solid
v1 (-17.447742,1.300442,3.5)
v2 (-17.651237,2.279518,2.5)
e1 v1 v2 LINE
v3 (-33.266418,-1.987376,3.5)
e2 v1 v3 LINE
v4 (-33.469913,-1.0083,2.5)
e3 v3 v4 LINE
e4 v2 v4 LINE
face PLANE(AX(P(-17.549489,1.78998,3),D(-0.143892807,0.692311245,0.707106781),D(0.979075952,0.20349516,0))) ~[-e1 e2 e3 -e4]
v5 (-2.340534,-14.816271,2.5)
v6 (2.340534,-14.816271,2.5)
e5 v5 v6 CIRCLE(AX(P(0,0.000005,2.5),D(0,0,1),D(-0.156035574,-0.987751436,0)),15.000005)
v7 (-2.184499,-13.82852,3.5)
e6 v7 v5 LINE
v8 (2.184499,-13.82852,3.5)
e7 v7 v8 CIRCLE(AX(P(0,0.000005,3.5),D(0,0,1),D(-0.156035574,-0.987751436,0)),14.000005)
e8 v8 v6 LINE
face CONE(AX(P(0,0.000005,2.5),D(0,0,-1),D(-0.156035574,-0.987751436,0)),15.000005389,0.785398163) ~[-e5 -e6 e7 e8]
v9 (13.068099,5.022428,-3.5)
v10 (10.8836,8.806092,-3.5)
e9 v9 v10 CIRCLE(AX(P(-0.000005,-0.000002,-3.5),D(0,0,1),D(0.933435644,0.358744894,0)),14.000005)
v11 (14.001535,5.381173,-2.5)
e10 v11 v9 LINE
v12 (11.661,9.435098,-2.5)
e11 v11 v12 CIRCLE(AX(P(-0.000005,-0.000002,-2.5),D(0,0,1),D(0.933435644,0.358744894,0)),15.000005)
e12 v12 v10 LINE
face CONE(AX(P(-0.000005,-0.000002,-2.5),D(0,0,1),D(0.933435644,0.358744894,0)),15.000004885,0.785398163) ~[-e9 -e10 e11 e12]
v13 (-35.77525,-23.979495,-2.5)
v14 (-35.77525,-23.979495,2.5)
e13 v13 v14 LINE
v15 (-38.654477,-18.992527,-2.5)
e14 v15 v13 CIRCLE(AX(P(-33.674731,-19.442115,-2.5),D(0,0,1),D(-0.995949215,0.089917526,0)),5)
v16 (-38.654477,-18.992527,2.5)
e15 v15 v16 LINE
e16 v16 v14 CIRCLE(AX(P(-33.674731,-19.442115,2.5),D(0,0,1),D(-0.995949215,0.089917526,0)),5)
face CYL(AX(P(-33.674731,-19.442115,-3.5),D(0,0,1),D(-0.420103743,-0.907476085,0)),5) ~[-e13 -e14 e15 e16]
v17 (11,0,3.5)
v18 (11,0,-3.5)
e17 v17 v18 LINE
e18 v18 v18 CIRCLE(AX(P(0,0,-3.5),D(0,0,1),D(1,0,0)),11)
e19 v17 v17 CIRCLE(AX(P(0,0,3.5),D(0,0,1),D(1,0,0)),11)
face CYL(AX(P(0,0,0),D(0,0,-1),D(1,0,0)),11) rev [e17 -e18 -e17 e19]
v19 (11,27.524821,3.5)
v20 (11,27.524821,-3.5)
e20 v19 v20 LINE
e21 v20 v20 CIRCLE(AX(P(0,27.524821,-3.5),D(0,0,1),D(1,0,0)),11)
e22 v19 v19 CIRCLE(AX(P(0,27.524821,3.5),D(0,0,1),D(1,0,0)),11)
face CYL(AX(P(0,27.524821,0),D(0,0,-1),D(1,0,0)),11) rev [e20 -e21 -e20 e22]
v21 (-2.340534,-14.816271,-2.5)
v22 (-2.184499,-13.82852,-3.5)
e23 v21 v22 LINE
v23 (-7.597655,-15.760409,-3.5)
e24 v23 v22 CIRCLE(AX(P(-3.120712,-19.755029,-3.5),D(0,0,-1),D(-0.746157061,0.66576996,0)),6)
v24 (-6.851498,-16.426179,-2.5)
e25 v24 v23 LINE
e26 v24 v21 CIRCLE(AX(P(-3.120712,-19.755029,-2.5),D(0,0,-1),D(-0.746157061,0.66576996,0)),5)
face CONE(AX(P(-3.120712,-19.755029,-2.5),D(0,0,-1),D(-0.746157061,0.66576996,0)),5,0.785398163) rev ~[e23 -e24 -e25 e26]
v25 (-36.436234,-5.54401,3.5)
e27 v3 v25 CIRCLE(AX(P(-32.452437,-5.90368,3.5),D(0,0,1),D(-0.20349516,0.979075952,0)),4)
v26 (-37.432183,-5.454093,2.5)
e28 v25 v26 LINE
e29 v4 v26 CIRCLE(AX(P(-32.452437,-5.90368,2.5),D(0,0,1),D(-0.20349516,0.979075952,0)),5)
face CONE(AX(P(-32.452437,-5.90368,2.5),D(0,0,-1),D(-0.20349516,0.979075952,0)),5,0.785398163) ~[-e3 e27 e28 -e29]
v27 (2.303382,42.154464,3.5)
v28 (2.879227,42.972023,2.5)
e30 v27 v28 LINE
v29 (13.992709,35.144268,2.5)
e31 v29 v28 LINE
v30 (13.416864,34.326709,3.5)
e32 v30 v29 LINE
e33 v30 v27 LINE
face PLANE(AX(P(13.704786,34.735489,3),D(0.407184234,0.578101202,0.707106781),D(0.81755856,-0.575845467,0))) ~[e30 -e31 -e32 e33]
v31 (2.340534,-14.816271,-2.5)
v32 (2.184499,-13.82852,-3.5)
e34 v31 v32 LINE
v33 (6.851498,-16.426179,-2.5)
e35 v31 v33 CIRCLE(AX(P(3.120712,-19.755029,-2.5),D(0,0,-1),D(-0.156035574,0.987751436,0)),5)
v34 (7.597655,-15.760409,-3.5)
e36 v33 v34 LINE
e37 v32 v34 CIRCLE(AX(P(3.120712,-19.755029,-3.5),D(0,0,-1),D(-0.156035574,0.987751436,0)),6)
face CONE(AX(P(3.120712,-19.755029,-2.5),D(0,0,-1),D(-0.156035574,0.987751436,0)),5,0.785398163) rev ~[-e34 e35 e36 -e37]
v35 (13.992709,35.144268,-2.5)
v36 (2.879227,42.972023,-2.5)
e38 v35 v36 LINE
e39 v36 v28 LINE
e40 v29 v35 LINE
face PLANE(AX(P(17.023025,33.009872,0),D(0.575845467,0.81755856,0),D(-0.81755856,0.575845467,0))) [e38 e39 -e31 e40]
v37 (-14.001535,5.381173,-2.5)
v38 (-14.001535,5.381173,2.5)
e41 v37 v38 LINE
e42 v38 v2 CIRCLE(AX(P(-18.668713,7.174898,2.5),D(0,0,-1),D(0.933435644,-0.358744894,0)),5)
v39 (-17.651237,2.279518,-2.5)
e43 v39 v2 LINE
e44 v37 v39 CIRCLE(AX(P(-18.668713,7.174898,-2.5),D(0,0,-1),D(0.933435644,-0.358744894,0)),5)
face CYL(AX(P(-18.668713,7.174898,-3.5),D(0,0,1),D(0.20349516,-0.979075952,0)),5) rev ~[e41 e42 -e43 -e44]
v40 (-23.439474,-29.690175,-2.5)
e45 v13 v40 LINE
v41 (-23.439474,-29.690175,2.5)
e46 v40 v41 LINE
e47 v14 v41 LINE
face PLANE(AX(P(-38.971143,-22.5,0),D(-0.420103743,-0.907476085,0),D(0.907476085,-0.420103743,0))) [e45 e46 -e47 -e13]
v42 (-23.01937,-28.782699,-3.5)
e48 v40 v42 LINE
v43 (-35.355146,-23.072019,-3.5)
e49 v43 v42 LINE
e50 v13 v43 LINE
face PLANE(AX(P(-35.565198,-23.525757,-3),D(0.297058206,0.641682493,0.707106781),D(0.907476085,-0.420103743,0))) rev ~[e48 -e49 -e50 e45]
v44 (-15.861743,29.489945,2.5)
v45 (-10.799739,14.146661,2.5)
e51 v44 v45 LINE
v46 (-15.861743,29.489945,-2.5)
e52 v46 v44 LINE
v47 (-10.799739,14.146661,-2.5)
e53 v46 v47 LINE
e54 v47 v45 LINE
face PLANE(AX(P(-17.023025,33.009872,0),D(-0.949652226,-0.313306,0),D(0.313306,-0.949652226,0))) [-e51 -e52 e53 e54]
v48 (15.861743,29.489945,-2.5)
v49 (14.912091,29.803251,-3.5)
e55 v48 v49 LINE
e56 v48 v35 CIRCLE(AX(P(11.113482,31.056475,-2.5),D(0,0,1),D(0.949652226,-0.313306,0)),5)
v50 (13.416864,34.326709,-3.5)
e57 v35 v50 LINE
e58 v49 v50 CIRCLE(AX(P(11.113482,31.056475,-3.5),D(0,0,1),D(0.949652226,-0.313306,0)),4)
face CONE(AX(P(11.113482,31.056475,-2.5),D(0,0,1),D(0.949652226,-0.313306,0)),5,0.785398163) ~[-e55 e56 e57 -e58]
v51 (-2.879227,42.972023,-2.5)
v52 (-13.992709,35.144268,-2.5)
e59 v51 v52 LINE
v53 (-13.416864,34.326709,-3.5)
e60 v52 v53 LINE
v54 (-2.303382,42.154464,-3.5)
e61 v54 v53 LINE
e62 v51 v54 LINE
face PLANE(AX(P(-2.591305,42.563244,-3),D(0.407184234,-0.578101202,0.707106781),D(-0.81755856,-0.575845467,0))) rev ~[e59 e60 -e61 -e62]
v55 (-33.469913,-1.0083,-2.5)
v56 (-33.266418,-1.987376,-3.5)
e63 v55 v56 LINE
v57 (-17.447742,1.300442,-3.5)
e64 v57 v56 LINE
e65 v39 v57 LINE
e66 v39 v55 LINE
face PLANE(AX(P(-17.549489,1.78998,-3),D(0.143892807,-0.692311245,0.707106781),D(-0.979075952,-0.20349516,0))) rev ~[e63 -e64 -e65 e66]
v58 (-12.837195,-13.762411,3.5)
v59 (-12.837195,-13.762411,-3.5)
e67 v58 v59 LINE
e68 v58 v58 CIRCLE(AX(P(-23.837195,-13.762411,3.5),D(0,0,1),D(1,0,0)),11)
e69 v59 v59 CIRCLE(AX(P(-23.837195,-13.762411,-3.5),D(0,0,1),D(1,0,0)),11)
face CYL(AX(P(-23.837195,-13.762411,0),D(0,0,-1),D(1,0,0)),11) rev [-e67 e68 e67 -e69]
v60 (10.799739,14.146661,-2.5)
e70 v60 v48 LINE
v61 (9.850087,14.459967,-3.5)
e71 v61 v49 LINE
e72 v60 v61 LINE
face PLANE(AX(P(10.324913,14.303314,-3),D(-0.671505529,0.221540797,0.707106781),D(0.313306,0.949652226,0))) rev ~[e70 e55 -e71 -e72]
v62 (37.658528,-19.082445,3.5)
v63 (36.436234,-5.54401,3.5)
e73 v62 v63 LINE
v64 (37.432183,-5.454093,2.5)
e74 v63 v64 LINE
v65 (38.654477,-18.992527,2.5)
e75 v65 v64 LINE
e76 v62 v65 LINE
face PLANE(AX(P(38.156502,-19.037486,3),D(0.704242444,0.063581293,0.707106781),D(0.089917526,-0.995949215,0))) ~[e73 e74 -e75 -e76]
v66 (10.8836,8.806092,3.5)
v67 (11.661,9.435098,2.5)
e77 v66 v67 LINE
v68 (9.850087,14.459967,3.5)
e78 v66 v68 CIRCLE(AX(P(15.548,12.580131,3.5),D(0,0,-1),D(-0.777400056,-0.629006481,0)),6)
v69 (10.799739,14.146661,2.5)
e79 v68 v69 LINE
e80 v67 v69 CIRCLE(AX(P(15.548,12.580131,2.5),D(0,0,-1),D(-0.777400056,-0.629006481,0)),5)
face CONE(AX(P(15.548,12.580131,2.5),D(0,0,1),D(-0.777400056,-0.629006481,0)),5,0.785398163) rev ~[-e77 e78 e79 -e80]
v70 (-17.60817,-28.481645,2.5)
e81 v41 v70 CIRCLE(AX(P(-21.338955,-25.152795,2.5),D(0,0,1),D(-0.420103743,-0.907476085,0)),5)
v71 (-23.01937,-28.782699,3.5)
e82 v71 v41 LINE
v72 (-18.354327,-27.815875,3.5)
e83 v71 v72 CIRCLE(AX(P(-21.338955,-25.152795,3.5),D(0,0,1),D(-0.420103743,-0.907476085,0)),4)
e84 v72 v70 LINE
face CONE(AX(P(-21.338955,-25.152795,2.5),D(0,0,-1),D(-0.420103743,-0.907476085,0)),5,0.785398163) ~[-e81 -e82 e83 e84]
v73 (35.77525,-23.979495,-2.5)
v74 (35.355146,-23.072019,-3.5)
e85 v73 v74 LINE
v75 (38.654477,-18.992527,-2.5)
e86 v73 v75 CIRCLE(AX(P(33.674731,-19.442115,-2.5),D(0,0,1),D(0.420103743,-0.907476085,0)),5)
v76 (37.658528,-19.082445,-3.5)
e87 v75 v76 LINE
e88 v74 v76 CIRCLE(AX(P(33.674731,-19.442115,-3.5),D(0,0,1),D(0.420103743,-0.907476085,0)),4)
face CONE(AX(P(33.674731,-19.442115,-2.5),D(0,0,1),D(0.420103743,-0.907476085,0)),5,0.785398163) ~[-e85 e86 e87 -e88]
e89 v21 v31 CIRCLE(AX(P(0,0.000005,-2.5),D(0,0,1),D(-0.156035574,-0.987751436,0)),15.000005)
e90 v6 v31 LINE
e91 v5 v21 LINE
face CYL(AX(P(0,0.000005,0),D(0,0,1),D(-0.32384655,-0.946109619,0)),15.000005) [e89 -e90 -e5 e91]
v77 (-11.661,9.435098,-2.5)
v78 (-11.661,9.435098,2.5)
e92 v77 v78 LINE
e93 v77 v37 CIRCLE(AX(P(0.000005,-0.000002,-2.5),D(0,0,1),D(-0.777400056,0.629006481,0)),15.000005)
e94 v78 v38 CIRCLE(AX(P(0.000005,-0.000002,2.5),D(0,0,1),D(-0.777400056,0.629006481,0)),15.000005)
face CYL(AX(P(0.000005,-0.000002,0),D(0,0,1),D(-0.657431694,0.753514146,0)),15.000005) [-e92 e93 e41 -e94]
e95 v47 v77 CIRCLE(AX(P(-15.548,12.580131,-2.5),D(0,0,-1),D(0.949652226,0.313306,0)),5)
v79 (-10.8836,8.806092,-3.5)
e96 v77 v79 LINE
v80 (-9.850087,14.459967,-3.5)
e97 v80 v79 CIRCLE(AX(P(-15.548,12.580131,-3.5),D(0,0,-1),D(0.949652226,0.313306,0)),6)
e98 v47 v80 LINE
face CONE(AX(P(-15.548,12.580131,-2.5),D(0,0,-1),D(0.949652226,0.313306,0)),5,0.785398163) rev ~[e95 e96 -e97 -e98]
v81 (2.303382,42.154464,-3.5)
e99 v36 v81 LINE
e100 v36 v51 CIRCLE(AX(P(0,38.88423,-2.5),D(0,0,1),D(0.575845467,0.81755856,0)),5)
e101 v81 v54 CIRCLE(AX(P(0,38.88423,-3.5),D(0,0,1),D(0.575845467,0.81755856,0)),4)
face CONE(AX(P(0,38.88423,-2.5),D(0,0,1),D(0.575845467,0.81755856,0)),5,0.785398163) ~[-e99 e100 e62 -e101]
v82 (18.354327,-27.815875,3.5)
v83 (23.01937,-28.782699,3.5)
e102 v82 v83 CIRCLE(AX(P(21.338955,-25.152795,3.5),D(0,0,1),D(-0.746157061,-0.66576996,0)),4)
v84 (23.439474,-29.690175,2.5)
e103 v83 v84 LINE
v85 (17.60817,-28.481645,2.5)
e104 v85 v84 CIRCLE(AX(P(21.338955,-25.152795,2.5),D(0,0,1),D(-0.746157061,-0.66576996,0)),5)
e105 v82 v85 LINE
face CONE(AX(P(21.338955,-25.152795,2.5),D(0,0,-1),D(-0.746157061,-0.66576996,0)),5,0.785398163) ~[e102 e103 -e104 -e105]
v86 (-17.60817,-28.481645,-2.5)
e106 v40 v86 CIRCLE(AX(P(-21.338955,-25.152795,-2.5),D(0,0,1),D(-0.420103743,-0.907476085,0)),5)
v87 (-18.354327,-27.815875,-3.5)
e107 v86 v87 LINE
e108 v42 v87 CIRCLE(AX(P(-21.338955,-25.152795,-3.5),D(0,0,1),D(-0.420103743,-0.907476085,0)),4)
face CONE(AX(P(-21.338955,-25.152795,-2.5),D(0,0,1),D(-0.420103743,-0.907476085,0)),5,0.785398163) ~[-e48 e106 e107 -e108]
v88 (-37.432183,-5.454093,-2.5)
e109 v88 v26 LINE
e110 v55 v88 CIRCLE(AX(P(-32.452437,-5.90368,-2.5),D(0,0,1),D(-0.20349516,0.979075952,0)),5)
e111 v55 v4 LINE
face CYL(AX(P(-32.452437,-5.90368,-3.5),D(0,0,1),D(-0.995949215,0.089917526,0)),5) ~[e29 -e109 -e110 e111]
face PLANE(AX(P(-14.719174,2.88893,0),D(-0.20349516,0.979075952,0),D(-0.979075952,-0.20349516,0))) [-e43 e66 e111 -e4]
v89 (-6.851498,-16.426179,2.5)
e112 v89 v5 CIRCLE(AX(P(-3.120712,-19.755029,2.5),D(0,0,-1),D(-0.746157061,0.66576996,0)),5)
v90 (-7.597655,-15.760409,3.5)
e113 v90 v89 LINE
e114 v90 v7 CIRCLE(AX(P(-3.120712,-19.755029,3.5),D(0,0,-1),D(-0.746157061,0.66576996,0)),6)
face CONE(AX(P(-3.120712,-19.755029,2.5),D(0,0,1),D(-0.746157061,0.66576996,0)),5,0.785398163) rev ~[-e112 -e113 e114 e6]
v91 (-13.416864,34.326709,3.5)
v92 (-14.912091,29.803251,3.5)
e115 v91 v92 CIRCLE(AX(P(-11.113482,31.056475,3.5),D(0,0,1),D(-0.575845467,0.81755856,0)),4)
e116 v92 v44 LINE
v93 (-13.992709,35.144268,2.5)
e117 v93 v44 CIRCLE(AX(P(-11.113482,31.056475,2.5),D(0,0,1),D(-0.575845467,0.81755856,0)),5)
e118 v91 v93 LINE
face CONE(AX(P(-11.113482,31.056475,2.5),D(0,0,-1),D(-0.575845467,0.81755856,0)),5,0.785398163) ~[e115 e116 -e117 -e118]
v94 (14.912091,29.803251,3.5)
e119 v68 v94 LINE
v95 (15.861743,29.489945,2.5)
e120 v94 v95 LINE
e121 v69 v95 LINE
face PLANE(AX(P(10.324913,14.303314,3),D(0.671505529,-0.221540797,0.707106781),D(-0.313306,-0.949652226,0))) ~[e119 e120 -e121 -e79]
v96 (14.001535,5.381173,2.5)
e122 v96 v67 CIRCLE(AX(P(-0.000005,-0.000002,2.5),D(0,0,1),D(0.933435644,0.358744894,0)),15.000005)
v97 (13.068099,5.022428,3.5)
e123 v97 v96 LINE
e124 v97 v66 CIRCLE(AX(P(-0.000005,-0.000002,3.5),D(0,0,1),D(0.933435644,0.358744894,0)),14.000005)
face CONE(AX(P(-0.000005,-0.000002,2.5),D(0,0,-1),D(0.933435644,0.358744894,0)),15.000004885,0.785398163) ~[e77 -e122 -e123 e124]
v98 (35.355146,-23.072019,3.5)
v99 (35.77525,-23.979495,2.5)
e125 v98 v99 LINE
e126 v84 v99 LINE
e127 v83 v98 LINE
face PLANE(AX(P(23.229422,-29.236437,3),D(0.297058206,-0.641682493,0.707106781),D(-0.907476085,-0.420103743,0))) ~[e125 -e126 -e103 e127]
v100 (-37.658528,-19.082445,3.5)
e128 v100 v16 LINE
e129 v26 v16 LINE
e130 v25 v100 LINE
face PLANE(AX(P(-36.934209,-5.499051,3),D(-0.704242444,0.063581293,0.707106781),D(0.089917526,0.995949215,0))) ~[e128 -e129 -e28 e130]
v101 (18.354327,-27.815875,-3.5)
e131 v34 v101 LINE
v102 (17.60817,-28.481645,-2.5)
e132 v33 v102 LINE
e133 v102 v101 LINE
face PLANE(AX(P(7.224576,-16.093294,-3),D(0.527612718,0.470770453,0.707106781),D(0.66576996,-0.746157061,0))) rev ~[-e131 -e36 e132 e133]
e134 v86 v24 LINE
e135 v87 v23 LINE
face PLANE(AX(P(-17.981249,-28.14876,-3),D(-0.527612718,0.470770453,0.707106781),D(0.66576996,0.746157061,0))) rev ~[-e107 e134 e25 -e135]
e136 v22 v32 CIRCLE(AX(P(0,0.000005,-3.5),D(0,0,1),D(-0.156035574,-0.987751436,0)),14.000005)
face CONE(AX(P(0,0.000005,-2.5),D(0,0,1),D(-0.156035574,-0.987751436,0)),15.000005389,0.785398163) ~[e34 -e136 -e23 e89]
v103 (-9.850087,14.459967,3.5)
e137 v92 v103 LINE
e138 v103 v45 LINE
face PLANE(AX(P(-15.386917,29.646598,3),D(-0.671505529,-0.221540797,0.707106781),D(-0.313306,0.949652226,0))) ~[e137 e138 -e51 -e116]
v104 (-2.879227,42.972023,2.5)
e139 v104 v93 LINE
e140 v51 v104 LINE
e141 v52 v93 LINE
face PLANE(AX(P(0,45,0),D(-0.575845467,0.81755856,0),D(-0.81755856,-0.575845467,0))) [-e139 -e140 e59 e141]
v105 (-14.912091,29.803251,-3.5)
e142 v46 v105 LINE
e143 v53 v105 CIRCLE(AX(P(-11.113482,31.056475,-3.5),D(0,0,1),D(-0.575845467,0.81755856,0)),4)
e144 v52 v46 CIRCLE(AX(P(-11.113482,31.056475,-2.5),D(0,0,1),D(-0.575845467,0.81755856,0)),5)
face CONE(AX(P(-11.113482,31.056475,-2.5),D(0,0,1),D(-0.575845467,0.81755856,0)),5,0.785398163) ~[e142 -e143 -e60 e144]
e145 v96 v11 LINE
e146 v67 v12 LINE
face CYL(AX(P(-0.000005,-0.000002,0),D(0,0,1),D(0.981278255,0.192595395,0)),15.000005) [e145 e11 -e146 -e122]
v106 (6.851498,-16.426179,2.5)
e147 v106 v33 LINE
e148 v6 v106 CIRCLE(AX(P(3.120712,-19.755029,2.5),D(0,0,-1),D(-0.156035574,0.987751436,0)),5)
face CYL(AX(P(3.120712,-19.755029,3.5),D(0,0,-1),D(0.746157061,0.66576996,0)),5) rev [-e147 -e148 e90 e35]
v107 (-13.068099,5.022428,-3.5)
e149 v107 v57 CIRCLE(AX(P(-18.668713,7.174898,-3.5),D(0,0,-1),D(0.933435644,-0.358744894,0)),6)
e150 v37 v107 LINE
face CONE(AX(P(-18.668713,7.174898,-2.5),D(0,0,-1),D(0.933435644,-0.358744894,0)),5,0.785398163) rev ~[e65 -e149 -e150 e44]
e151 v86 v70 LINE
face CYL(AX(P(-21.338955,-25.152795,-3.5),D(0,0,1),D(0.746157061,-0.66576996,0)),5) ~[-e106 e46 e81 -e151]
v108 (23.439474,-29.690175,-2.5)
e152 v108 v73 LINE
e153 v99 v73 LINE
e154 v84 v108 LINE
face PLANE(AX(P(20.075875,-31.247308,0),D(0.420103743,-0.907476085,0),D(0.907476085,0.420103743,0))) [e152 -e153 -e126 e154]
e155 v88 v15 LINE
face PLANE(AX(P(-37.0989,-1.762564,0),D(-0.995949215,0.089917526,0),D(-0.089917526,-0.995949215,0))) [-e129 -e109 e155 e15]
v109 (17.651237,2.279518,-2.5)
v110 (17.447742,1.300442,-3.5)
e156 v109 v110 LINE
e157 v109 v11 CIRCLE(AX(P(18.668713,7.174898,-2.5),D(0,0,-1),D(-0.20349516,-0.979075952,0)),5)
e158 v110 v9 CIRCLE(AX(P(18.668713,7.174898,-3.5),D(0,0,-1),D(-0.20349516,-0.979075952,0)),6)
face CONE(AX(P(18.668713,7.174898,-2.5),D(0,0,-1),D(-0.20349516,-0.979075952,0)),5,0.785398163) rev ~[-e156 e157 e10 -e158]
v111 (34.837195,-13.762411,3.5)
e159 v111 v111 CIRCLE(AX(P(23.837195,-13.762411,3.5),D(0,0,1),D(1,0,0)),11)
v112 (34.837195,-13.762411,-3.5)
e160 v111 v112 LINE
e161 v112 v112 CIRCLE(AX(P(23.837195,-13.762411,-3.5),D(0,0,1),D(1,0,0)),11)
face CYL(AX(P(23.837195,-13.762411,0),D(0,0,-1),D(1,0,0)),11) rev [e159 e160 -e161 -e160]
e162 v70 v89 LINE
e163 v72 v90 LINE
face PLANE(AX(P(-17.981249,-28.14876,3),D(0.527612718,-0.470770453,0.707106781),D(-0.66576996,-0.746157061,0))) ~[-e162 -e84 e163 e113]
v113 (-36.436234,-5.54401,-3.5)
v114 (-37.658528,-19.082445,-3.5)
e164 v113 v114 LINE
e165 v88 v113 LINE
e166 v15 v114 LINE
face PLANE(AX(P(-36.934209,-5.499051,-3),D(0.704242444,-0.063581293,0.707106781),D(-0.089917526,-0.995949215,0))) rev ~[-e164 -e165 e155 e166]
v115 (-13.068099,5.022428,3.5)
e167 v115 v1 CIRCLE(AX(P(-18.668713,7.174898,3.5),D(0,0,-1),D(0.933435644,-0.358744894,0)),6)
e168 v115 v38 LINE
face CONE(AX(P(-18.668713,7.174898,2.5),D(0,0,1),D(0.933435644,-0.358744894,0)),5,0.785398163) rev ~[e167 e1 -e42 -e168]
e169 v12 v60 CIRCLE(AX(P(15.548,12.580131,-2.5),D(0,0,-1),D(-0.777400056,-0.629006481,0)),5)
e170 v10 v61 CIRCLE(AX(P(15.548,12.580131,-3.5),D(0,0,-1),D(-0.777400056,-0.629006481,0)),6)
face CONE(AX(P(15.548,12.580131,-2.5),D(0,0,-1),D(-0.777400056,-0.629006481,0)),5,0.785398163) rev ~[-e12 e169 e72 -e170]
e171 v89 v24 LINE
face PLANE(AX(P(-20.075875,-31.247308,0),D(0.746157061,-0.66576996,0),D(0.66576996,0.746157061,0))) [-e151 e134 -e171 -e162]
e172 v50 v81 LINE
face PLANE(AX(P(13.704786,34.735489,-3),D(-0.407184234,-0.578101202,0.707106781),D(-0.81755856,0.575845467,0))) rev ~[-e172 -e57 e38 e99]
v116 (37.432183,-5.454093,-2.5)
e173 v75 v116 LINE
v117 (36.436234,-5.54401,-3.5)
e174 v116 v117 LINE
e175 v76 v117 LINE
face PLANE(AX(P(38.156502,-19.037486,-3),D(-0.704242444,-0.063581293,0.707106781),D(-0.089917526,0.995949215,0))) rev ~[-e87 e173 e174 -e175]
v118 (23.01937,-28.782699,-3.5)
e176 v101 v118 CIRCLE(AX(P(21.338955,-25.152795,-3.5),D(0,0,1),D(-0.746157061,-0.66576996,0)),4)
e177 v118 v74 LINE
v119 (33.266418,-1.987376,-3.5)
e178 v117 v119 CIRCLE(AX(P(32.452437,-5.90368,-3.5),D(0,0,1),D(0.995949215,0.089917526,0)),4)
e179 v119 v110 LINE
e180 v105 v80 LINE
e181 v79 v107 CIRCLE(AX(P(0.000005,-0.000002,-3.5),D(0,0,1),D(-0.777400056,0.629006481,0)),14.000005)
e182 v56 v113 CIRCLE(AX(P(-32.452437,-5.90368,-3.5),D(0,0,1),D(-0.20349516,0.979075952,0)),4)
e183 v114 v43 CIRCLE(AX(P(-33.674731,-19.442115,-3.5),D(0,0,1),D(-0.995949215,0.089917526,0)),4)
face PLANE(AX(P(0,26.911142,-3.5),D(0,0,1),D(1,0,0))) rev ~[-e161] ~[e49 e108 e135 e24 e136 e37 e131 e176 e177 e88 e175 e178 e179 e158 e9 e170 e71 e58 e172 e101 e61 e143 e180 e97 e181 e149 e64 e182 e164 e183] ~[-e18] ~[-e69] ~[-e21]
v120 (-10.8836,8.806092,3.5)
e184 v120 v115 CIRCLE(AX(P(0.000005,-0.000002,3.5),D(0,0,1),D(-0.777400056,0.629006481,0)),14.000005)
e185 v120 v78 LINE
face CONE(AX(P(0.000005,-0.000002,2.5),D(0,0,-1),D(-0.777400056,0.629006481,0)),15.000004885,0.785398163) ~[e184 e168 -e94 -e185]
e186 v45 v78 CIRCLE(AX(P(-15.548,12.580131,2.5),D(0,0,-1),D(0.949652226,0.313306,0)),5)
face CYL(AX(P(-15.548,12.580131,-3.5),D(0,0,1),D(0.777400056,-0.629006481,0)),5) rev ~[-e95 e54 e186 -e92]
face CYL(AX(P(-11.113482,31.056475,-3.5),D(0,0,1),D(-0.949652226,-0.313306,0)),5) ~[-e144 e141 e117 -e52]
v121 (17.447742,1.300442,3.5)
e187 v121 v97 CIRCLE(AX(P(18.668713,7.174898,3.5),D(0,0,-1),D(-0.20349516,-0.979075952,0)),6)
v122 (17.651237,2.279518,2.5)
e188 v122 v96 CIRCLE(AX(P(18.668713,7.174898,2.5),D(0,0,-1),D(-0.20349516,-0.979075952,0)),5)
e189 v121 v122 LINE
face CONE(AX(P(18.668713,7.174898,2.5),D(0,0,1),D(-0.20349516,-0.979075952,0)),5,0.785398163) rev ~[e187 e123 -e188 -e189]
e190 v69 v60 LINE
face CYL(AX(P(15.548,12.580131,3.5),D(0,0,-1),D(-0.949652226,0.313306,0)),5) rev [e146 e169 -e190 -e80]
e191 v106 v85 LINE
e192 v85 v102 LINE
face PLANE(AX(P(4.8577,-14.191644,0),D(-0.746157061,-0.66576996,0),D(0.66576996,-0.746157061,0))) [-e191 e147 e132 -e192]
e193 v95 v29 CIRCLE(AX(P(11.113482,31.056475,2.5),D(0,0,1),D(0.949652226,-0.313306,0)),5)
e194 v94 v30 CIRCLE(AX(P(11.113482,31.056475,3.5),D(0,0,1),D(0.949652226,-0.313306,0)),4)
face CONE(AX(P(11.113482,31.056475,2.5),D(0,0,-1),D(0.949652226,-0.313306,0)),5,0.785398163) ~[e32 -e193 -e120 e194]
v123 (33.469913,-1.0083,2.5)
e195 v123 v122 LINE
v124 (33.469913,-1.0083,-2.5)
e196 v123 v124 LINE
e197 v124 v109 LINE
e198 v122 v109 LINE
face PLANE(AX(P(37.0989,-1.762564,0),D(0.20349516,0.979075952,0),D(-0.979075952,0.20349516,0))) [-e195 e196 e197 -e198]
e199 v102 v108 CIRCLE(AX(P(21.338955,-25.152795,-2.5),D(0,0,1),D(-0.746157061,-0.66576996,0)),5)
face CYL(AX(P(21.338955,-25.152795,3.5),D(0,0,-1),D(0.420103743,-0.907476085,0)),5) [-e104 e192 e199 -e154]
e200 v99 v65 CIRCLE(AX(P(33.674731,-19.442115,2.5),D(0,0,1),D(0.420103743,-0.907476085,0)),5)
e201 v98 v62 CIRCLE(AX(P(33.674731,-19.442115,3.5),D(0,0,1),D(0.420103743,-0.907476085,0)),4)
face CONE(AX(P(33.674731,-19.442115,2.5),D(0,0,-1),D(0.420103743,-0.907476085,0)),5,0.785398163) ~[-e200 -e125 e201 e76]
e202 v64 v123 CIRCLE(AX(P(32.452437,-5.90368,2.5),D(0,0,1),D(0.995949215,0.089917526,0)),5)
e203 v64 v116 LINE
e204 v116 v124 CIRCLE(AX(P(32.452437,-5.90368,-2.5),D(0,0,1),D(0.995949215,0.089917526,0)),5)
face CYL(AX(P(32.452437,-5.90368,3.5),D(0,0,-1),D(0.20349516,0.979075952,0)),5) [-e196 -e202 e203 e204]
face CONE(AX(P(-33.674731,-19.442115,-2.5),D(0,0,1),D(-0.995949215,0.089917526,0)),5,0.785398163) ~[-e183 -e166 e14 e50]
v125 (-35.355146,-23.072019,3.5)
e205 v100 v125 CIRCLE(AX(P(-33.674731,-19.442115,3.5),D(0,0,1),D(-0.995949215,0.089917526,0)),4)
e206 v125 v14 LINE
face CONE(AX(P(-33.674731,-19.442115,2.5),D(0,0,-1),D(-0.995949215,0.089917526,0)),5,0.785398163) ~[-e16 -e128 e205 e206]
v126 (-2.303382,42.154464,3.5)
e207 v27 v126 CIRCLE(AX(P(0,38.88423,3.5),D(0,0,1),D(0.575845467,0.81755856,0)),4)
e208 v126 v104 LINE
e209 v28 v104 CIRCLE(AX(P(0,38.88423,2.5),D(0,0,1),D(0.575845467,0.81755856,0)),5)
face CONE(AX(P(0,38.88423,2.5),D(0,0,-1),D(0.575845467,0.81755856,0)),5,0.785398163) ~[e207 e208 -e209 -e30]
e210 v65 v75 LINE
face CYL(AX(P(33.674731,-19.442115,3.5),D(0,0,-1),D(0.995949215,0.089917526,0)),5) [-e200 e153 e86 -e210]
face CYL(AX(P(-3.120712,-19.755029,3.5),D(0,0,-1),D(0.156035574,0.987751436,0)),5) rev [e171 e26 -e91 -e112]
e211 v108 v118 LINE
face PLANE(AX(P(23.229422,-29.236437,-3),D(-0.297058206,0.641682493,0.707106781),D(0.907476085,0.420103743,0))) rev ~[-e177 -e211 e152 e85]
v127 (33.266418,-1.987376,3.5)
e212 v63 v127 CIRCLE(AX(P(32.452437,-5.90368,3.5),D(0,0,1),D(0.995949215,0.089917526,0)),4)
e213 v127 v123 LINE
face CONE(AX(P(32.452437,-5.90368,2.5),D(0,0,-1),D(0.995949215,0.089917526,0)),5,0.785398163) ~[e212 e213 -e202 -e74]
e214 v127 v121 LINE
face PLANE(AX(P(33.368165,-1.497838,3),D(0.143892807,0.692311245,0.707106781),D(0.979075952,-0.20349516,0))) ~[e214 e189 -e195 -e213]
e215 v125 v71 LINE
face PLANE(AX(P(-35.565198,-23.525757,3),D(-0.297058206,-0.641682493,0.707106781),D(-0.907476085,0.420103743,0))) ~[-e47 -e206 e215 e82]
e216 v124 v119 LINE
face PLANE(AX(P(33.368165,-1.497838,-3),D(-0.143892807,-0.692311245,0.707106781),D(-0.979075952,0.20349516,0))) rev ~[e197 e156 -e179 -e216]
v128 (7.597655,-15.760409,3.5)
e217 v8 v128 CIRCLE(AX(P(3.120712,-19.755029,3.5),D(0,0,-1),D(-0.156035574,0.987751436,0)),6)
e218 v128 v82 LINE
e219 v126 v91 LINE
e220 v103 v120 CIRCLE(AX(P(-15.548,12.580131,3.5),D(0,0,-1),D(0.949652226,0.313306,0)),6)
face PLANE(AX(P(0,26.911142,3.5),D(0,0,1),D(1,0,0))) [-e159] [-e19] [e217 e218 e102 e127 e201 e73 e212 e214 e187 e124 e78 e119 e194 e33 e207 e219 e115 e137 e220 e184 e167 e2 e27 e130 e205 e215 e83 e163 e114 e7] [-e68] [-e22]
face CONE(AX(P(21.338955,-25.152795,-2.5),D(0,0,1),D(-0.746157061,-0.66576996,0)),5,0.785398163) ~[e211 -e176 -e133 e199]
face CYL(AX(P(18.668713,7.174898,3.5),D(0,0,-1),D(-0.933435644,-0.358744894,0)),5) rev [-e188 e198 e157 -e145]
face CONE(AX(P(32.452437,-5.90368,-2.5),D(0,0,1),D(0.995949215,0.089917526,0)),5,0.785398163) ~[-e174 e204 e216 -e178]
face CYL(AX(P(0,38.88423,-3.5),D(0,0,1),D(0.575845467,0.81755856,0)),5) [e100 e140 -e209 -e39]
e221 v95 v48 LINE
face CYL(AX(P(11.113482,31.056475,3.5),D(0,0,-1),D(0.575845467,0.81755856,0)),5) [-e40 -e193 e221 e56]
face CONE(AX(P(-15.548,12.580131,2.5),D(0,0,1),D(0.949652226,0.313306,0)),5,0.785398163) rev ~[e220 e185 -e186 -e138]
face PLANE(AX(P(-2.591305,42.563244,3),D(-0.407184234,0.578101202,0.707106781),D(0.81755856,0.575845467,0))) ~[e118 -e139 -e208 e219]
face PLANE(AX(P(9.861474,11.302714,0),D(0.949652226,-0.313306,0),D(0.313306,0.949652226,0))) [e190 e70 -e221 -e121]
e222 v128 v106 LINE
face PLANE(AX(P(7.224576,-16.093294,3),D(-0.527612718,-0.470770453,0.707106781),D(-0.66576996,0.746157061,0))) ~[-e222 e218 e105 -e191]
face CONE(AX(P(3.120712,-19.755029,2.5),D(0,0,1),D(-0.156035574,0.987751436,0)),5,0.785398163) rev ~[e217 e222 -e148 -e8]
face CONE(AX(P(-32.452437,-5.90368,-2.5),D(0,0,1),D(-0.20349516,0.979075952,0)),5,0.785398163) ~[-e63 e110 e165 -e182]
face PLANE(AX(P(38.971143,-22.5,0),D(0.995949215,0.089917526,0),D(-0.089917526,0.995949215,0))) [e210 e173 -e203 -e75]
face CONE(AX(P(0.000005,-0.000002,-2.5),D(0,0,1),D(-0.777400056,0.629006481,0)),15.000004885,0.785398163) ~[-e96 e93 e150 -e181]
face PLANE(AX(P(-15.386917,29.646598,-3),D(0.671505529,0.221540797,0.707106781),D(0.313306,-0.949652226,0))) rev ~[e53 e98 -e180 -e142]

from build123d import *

# Parameters (mm, degrees)
F0_R     = 11
F1_DEPTH = 3.5
F2_R     = 5
F3_SIZE  = 1


with BuildPart() as f1:
    # F0 (on Top) → F1 (new body, symmetric)
    with BuildSketch(Plane.XY):
        with BuildLine():
            Line((17.023025, 33.009872), (0, 45))
            Line((0, 45), (-17.023025, 33.009872))
            Line((-17.023025, 33.009872), (-9.861474, 11.302714))
            ThreePointArc((-9.861474, 11.302714), (0, 15), (9.861474, 11.302714))
            Line((9.861474, 11.302714), (17.023025, 33.009872))
        make_face()
        with Locations((0, 27.524821)):
            Circle(F0_R, mode=Mode.SUBTRACT)
        with BuildLine():
            ThreePointArc((-4.8577, -14.191644), (-12.990381, -7.5), (-14.719174, 2.88893))
            Line((-14.719174, 2.88893), (-37.0989, -1.762564))
            Line((-37.0989, -1.762564), (-38.971143, -22.5))
            Line((-38.971143, -22.5), (-20.075875, -31.247308))
            Line((-20.075875, -31.247308), (-4.8577, -14.191644))
        make_face()
        with Locations((-23.837195, -13.762411)):
            Circle(F0_R, mode=Mode.SUBTRACT)
        with BuildLine():
            Line((37.0989, -1.762564), (14.719174, 2.88893))
            ThreePointArc((14.719174, 2.88893), (14.929628, 1.451273), (15, 0))
            ThreePointArc((15, 0), (12.203801, -8.721654), (4.8577, -14.191644))
            Line((4.8577, -14.191644), (20.075875, -31.247308))
            Line((20.075875, -31.247308), (38.971143, -22.5))
            Line((38.971143, -22.5), (37.0989, -1.762564))
        make_face()
        with Locations((23.837195, -13.762411)):
            Circle(F0_R, mode=Mode.SUBTRACT)
        with BuildLine():
            ThreePointArc((9.861474, 11.302714), (0, 15), (-9.861474, 11.302714))
            ThreePointArc((-9.861474, 11.302714), (-12.990381, 7.5), (-14.719174, 2.88893))
            ThreePointArc((-14.719174, 2.88893), (-12.990381, -7.5), (-4.8577, -14.191644))
            ThreePointArc((-4.8577, -14.191644), (0, -15), (4.8577, -14.191644))
            ThreePointArc((4.8577, -14.191644), (12.203801, -8.721654), (15, 0))
            ThreePointArc((15, 0), (14.929628, 1.451273), (14.719174, 2.88893))
            ThreePointArc((14.719174, 2.88893), (12.990381, 7.5), (9.861474, 11.302714))
        make_face()
        Circle(F0_R, mode=Mode.SUBTRACT)
    extrude(amount=F1_DEPTH, both=True)

    # F2
    f2_edges = [f1.edges().sort_by_distance(p)[0] for p in [
        (17.023025, 33.009872, 0),
        (9.861474, 11.302714, 0),
        (14.719174, 2.88893, 0),
        (37.0989, -1.762564, 0),
        (38.971143, -22.5, 0),
        (4.8577, -14.191644, 0),
        (20.075875, -31.247308, 0),
        (-4.8577, -14.191644, 0),
        (-20.075875, -31.247308, 0),
        (-38.971143, -22.5, 0),
        (-37.0989, -1.762564, 0),
        (-14.719174, 2.88893, 0),
        (-9.861474, 11.302714, 0),
        (-17.023025, 33.009872, 0),
        (0, 45, 0),
    ]]
    fillet(f2_edges, radius=F2_R)

    # F3
    f3_edges = [f1.edges().sort_by_distance(p)[0] for p in [
        (8.435968, 39.058145, -3.5),
        (-38.04333, -12.22331, 3.5),
    ]]
    chamfer(f3_edges, length=F3_SIZE)


solid = f1.part
